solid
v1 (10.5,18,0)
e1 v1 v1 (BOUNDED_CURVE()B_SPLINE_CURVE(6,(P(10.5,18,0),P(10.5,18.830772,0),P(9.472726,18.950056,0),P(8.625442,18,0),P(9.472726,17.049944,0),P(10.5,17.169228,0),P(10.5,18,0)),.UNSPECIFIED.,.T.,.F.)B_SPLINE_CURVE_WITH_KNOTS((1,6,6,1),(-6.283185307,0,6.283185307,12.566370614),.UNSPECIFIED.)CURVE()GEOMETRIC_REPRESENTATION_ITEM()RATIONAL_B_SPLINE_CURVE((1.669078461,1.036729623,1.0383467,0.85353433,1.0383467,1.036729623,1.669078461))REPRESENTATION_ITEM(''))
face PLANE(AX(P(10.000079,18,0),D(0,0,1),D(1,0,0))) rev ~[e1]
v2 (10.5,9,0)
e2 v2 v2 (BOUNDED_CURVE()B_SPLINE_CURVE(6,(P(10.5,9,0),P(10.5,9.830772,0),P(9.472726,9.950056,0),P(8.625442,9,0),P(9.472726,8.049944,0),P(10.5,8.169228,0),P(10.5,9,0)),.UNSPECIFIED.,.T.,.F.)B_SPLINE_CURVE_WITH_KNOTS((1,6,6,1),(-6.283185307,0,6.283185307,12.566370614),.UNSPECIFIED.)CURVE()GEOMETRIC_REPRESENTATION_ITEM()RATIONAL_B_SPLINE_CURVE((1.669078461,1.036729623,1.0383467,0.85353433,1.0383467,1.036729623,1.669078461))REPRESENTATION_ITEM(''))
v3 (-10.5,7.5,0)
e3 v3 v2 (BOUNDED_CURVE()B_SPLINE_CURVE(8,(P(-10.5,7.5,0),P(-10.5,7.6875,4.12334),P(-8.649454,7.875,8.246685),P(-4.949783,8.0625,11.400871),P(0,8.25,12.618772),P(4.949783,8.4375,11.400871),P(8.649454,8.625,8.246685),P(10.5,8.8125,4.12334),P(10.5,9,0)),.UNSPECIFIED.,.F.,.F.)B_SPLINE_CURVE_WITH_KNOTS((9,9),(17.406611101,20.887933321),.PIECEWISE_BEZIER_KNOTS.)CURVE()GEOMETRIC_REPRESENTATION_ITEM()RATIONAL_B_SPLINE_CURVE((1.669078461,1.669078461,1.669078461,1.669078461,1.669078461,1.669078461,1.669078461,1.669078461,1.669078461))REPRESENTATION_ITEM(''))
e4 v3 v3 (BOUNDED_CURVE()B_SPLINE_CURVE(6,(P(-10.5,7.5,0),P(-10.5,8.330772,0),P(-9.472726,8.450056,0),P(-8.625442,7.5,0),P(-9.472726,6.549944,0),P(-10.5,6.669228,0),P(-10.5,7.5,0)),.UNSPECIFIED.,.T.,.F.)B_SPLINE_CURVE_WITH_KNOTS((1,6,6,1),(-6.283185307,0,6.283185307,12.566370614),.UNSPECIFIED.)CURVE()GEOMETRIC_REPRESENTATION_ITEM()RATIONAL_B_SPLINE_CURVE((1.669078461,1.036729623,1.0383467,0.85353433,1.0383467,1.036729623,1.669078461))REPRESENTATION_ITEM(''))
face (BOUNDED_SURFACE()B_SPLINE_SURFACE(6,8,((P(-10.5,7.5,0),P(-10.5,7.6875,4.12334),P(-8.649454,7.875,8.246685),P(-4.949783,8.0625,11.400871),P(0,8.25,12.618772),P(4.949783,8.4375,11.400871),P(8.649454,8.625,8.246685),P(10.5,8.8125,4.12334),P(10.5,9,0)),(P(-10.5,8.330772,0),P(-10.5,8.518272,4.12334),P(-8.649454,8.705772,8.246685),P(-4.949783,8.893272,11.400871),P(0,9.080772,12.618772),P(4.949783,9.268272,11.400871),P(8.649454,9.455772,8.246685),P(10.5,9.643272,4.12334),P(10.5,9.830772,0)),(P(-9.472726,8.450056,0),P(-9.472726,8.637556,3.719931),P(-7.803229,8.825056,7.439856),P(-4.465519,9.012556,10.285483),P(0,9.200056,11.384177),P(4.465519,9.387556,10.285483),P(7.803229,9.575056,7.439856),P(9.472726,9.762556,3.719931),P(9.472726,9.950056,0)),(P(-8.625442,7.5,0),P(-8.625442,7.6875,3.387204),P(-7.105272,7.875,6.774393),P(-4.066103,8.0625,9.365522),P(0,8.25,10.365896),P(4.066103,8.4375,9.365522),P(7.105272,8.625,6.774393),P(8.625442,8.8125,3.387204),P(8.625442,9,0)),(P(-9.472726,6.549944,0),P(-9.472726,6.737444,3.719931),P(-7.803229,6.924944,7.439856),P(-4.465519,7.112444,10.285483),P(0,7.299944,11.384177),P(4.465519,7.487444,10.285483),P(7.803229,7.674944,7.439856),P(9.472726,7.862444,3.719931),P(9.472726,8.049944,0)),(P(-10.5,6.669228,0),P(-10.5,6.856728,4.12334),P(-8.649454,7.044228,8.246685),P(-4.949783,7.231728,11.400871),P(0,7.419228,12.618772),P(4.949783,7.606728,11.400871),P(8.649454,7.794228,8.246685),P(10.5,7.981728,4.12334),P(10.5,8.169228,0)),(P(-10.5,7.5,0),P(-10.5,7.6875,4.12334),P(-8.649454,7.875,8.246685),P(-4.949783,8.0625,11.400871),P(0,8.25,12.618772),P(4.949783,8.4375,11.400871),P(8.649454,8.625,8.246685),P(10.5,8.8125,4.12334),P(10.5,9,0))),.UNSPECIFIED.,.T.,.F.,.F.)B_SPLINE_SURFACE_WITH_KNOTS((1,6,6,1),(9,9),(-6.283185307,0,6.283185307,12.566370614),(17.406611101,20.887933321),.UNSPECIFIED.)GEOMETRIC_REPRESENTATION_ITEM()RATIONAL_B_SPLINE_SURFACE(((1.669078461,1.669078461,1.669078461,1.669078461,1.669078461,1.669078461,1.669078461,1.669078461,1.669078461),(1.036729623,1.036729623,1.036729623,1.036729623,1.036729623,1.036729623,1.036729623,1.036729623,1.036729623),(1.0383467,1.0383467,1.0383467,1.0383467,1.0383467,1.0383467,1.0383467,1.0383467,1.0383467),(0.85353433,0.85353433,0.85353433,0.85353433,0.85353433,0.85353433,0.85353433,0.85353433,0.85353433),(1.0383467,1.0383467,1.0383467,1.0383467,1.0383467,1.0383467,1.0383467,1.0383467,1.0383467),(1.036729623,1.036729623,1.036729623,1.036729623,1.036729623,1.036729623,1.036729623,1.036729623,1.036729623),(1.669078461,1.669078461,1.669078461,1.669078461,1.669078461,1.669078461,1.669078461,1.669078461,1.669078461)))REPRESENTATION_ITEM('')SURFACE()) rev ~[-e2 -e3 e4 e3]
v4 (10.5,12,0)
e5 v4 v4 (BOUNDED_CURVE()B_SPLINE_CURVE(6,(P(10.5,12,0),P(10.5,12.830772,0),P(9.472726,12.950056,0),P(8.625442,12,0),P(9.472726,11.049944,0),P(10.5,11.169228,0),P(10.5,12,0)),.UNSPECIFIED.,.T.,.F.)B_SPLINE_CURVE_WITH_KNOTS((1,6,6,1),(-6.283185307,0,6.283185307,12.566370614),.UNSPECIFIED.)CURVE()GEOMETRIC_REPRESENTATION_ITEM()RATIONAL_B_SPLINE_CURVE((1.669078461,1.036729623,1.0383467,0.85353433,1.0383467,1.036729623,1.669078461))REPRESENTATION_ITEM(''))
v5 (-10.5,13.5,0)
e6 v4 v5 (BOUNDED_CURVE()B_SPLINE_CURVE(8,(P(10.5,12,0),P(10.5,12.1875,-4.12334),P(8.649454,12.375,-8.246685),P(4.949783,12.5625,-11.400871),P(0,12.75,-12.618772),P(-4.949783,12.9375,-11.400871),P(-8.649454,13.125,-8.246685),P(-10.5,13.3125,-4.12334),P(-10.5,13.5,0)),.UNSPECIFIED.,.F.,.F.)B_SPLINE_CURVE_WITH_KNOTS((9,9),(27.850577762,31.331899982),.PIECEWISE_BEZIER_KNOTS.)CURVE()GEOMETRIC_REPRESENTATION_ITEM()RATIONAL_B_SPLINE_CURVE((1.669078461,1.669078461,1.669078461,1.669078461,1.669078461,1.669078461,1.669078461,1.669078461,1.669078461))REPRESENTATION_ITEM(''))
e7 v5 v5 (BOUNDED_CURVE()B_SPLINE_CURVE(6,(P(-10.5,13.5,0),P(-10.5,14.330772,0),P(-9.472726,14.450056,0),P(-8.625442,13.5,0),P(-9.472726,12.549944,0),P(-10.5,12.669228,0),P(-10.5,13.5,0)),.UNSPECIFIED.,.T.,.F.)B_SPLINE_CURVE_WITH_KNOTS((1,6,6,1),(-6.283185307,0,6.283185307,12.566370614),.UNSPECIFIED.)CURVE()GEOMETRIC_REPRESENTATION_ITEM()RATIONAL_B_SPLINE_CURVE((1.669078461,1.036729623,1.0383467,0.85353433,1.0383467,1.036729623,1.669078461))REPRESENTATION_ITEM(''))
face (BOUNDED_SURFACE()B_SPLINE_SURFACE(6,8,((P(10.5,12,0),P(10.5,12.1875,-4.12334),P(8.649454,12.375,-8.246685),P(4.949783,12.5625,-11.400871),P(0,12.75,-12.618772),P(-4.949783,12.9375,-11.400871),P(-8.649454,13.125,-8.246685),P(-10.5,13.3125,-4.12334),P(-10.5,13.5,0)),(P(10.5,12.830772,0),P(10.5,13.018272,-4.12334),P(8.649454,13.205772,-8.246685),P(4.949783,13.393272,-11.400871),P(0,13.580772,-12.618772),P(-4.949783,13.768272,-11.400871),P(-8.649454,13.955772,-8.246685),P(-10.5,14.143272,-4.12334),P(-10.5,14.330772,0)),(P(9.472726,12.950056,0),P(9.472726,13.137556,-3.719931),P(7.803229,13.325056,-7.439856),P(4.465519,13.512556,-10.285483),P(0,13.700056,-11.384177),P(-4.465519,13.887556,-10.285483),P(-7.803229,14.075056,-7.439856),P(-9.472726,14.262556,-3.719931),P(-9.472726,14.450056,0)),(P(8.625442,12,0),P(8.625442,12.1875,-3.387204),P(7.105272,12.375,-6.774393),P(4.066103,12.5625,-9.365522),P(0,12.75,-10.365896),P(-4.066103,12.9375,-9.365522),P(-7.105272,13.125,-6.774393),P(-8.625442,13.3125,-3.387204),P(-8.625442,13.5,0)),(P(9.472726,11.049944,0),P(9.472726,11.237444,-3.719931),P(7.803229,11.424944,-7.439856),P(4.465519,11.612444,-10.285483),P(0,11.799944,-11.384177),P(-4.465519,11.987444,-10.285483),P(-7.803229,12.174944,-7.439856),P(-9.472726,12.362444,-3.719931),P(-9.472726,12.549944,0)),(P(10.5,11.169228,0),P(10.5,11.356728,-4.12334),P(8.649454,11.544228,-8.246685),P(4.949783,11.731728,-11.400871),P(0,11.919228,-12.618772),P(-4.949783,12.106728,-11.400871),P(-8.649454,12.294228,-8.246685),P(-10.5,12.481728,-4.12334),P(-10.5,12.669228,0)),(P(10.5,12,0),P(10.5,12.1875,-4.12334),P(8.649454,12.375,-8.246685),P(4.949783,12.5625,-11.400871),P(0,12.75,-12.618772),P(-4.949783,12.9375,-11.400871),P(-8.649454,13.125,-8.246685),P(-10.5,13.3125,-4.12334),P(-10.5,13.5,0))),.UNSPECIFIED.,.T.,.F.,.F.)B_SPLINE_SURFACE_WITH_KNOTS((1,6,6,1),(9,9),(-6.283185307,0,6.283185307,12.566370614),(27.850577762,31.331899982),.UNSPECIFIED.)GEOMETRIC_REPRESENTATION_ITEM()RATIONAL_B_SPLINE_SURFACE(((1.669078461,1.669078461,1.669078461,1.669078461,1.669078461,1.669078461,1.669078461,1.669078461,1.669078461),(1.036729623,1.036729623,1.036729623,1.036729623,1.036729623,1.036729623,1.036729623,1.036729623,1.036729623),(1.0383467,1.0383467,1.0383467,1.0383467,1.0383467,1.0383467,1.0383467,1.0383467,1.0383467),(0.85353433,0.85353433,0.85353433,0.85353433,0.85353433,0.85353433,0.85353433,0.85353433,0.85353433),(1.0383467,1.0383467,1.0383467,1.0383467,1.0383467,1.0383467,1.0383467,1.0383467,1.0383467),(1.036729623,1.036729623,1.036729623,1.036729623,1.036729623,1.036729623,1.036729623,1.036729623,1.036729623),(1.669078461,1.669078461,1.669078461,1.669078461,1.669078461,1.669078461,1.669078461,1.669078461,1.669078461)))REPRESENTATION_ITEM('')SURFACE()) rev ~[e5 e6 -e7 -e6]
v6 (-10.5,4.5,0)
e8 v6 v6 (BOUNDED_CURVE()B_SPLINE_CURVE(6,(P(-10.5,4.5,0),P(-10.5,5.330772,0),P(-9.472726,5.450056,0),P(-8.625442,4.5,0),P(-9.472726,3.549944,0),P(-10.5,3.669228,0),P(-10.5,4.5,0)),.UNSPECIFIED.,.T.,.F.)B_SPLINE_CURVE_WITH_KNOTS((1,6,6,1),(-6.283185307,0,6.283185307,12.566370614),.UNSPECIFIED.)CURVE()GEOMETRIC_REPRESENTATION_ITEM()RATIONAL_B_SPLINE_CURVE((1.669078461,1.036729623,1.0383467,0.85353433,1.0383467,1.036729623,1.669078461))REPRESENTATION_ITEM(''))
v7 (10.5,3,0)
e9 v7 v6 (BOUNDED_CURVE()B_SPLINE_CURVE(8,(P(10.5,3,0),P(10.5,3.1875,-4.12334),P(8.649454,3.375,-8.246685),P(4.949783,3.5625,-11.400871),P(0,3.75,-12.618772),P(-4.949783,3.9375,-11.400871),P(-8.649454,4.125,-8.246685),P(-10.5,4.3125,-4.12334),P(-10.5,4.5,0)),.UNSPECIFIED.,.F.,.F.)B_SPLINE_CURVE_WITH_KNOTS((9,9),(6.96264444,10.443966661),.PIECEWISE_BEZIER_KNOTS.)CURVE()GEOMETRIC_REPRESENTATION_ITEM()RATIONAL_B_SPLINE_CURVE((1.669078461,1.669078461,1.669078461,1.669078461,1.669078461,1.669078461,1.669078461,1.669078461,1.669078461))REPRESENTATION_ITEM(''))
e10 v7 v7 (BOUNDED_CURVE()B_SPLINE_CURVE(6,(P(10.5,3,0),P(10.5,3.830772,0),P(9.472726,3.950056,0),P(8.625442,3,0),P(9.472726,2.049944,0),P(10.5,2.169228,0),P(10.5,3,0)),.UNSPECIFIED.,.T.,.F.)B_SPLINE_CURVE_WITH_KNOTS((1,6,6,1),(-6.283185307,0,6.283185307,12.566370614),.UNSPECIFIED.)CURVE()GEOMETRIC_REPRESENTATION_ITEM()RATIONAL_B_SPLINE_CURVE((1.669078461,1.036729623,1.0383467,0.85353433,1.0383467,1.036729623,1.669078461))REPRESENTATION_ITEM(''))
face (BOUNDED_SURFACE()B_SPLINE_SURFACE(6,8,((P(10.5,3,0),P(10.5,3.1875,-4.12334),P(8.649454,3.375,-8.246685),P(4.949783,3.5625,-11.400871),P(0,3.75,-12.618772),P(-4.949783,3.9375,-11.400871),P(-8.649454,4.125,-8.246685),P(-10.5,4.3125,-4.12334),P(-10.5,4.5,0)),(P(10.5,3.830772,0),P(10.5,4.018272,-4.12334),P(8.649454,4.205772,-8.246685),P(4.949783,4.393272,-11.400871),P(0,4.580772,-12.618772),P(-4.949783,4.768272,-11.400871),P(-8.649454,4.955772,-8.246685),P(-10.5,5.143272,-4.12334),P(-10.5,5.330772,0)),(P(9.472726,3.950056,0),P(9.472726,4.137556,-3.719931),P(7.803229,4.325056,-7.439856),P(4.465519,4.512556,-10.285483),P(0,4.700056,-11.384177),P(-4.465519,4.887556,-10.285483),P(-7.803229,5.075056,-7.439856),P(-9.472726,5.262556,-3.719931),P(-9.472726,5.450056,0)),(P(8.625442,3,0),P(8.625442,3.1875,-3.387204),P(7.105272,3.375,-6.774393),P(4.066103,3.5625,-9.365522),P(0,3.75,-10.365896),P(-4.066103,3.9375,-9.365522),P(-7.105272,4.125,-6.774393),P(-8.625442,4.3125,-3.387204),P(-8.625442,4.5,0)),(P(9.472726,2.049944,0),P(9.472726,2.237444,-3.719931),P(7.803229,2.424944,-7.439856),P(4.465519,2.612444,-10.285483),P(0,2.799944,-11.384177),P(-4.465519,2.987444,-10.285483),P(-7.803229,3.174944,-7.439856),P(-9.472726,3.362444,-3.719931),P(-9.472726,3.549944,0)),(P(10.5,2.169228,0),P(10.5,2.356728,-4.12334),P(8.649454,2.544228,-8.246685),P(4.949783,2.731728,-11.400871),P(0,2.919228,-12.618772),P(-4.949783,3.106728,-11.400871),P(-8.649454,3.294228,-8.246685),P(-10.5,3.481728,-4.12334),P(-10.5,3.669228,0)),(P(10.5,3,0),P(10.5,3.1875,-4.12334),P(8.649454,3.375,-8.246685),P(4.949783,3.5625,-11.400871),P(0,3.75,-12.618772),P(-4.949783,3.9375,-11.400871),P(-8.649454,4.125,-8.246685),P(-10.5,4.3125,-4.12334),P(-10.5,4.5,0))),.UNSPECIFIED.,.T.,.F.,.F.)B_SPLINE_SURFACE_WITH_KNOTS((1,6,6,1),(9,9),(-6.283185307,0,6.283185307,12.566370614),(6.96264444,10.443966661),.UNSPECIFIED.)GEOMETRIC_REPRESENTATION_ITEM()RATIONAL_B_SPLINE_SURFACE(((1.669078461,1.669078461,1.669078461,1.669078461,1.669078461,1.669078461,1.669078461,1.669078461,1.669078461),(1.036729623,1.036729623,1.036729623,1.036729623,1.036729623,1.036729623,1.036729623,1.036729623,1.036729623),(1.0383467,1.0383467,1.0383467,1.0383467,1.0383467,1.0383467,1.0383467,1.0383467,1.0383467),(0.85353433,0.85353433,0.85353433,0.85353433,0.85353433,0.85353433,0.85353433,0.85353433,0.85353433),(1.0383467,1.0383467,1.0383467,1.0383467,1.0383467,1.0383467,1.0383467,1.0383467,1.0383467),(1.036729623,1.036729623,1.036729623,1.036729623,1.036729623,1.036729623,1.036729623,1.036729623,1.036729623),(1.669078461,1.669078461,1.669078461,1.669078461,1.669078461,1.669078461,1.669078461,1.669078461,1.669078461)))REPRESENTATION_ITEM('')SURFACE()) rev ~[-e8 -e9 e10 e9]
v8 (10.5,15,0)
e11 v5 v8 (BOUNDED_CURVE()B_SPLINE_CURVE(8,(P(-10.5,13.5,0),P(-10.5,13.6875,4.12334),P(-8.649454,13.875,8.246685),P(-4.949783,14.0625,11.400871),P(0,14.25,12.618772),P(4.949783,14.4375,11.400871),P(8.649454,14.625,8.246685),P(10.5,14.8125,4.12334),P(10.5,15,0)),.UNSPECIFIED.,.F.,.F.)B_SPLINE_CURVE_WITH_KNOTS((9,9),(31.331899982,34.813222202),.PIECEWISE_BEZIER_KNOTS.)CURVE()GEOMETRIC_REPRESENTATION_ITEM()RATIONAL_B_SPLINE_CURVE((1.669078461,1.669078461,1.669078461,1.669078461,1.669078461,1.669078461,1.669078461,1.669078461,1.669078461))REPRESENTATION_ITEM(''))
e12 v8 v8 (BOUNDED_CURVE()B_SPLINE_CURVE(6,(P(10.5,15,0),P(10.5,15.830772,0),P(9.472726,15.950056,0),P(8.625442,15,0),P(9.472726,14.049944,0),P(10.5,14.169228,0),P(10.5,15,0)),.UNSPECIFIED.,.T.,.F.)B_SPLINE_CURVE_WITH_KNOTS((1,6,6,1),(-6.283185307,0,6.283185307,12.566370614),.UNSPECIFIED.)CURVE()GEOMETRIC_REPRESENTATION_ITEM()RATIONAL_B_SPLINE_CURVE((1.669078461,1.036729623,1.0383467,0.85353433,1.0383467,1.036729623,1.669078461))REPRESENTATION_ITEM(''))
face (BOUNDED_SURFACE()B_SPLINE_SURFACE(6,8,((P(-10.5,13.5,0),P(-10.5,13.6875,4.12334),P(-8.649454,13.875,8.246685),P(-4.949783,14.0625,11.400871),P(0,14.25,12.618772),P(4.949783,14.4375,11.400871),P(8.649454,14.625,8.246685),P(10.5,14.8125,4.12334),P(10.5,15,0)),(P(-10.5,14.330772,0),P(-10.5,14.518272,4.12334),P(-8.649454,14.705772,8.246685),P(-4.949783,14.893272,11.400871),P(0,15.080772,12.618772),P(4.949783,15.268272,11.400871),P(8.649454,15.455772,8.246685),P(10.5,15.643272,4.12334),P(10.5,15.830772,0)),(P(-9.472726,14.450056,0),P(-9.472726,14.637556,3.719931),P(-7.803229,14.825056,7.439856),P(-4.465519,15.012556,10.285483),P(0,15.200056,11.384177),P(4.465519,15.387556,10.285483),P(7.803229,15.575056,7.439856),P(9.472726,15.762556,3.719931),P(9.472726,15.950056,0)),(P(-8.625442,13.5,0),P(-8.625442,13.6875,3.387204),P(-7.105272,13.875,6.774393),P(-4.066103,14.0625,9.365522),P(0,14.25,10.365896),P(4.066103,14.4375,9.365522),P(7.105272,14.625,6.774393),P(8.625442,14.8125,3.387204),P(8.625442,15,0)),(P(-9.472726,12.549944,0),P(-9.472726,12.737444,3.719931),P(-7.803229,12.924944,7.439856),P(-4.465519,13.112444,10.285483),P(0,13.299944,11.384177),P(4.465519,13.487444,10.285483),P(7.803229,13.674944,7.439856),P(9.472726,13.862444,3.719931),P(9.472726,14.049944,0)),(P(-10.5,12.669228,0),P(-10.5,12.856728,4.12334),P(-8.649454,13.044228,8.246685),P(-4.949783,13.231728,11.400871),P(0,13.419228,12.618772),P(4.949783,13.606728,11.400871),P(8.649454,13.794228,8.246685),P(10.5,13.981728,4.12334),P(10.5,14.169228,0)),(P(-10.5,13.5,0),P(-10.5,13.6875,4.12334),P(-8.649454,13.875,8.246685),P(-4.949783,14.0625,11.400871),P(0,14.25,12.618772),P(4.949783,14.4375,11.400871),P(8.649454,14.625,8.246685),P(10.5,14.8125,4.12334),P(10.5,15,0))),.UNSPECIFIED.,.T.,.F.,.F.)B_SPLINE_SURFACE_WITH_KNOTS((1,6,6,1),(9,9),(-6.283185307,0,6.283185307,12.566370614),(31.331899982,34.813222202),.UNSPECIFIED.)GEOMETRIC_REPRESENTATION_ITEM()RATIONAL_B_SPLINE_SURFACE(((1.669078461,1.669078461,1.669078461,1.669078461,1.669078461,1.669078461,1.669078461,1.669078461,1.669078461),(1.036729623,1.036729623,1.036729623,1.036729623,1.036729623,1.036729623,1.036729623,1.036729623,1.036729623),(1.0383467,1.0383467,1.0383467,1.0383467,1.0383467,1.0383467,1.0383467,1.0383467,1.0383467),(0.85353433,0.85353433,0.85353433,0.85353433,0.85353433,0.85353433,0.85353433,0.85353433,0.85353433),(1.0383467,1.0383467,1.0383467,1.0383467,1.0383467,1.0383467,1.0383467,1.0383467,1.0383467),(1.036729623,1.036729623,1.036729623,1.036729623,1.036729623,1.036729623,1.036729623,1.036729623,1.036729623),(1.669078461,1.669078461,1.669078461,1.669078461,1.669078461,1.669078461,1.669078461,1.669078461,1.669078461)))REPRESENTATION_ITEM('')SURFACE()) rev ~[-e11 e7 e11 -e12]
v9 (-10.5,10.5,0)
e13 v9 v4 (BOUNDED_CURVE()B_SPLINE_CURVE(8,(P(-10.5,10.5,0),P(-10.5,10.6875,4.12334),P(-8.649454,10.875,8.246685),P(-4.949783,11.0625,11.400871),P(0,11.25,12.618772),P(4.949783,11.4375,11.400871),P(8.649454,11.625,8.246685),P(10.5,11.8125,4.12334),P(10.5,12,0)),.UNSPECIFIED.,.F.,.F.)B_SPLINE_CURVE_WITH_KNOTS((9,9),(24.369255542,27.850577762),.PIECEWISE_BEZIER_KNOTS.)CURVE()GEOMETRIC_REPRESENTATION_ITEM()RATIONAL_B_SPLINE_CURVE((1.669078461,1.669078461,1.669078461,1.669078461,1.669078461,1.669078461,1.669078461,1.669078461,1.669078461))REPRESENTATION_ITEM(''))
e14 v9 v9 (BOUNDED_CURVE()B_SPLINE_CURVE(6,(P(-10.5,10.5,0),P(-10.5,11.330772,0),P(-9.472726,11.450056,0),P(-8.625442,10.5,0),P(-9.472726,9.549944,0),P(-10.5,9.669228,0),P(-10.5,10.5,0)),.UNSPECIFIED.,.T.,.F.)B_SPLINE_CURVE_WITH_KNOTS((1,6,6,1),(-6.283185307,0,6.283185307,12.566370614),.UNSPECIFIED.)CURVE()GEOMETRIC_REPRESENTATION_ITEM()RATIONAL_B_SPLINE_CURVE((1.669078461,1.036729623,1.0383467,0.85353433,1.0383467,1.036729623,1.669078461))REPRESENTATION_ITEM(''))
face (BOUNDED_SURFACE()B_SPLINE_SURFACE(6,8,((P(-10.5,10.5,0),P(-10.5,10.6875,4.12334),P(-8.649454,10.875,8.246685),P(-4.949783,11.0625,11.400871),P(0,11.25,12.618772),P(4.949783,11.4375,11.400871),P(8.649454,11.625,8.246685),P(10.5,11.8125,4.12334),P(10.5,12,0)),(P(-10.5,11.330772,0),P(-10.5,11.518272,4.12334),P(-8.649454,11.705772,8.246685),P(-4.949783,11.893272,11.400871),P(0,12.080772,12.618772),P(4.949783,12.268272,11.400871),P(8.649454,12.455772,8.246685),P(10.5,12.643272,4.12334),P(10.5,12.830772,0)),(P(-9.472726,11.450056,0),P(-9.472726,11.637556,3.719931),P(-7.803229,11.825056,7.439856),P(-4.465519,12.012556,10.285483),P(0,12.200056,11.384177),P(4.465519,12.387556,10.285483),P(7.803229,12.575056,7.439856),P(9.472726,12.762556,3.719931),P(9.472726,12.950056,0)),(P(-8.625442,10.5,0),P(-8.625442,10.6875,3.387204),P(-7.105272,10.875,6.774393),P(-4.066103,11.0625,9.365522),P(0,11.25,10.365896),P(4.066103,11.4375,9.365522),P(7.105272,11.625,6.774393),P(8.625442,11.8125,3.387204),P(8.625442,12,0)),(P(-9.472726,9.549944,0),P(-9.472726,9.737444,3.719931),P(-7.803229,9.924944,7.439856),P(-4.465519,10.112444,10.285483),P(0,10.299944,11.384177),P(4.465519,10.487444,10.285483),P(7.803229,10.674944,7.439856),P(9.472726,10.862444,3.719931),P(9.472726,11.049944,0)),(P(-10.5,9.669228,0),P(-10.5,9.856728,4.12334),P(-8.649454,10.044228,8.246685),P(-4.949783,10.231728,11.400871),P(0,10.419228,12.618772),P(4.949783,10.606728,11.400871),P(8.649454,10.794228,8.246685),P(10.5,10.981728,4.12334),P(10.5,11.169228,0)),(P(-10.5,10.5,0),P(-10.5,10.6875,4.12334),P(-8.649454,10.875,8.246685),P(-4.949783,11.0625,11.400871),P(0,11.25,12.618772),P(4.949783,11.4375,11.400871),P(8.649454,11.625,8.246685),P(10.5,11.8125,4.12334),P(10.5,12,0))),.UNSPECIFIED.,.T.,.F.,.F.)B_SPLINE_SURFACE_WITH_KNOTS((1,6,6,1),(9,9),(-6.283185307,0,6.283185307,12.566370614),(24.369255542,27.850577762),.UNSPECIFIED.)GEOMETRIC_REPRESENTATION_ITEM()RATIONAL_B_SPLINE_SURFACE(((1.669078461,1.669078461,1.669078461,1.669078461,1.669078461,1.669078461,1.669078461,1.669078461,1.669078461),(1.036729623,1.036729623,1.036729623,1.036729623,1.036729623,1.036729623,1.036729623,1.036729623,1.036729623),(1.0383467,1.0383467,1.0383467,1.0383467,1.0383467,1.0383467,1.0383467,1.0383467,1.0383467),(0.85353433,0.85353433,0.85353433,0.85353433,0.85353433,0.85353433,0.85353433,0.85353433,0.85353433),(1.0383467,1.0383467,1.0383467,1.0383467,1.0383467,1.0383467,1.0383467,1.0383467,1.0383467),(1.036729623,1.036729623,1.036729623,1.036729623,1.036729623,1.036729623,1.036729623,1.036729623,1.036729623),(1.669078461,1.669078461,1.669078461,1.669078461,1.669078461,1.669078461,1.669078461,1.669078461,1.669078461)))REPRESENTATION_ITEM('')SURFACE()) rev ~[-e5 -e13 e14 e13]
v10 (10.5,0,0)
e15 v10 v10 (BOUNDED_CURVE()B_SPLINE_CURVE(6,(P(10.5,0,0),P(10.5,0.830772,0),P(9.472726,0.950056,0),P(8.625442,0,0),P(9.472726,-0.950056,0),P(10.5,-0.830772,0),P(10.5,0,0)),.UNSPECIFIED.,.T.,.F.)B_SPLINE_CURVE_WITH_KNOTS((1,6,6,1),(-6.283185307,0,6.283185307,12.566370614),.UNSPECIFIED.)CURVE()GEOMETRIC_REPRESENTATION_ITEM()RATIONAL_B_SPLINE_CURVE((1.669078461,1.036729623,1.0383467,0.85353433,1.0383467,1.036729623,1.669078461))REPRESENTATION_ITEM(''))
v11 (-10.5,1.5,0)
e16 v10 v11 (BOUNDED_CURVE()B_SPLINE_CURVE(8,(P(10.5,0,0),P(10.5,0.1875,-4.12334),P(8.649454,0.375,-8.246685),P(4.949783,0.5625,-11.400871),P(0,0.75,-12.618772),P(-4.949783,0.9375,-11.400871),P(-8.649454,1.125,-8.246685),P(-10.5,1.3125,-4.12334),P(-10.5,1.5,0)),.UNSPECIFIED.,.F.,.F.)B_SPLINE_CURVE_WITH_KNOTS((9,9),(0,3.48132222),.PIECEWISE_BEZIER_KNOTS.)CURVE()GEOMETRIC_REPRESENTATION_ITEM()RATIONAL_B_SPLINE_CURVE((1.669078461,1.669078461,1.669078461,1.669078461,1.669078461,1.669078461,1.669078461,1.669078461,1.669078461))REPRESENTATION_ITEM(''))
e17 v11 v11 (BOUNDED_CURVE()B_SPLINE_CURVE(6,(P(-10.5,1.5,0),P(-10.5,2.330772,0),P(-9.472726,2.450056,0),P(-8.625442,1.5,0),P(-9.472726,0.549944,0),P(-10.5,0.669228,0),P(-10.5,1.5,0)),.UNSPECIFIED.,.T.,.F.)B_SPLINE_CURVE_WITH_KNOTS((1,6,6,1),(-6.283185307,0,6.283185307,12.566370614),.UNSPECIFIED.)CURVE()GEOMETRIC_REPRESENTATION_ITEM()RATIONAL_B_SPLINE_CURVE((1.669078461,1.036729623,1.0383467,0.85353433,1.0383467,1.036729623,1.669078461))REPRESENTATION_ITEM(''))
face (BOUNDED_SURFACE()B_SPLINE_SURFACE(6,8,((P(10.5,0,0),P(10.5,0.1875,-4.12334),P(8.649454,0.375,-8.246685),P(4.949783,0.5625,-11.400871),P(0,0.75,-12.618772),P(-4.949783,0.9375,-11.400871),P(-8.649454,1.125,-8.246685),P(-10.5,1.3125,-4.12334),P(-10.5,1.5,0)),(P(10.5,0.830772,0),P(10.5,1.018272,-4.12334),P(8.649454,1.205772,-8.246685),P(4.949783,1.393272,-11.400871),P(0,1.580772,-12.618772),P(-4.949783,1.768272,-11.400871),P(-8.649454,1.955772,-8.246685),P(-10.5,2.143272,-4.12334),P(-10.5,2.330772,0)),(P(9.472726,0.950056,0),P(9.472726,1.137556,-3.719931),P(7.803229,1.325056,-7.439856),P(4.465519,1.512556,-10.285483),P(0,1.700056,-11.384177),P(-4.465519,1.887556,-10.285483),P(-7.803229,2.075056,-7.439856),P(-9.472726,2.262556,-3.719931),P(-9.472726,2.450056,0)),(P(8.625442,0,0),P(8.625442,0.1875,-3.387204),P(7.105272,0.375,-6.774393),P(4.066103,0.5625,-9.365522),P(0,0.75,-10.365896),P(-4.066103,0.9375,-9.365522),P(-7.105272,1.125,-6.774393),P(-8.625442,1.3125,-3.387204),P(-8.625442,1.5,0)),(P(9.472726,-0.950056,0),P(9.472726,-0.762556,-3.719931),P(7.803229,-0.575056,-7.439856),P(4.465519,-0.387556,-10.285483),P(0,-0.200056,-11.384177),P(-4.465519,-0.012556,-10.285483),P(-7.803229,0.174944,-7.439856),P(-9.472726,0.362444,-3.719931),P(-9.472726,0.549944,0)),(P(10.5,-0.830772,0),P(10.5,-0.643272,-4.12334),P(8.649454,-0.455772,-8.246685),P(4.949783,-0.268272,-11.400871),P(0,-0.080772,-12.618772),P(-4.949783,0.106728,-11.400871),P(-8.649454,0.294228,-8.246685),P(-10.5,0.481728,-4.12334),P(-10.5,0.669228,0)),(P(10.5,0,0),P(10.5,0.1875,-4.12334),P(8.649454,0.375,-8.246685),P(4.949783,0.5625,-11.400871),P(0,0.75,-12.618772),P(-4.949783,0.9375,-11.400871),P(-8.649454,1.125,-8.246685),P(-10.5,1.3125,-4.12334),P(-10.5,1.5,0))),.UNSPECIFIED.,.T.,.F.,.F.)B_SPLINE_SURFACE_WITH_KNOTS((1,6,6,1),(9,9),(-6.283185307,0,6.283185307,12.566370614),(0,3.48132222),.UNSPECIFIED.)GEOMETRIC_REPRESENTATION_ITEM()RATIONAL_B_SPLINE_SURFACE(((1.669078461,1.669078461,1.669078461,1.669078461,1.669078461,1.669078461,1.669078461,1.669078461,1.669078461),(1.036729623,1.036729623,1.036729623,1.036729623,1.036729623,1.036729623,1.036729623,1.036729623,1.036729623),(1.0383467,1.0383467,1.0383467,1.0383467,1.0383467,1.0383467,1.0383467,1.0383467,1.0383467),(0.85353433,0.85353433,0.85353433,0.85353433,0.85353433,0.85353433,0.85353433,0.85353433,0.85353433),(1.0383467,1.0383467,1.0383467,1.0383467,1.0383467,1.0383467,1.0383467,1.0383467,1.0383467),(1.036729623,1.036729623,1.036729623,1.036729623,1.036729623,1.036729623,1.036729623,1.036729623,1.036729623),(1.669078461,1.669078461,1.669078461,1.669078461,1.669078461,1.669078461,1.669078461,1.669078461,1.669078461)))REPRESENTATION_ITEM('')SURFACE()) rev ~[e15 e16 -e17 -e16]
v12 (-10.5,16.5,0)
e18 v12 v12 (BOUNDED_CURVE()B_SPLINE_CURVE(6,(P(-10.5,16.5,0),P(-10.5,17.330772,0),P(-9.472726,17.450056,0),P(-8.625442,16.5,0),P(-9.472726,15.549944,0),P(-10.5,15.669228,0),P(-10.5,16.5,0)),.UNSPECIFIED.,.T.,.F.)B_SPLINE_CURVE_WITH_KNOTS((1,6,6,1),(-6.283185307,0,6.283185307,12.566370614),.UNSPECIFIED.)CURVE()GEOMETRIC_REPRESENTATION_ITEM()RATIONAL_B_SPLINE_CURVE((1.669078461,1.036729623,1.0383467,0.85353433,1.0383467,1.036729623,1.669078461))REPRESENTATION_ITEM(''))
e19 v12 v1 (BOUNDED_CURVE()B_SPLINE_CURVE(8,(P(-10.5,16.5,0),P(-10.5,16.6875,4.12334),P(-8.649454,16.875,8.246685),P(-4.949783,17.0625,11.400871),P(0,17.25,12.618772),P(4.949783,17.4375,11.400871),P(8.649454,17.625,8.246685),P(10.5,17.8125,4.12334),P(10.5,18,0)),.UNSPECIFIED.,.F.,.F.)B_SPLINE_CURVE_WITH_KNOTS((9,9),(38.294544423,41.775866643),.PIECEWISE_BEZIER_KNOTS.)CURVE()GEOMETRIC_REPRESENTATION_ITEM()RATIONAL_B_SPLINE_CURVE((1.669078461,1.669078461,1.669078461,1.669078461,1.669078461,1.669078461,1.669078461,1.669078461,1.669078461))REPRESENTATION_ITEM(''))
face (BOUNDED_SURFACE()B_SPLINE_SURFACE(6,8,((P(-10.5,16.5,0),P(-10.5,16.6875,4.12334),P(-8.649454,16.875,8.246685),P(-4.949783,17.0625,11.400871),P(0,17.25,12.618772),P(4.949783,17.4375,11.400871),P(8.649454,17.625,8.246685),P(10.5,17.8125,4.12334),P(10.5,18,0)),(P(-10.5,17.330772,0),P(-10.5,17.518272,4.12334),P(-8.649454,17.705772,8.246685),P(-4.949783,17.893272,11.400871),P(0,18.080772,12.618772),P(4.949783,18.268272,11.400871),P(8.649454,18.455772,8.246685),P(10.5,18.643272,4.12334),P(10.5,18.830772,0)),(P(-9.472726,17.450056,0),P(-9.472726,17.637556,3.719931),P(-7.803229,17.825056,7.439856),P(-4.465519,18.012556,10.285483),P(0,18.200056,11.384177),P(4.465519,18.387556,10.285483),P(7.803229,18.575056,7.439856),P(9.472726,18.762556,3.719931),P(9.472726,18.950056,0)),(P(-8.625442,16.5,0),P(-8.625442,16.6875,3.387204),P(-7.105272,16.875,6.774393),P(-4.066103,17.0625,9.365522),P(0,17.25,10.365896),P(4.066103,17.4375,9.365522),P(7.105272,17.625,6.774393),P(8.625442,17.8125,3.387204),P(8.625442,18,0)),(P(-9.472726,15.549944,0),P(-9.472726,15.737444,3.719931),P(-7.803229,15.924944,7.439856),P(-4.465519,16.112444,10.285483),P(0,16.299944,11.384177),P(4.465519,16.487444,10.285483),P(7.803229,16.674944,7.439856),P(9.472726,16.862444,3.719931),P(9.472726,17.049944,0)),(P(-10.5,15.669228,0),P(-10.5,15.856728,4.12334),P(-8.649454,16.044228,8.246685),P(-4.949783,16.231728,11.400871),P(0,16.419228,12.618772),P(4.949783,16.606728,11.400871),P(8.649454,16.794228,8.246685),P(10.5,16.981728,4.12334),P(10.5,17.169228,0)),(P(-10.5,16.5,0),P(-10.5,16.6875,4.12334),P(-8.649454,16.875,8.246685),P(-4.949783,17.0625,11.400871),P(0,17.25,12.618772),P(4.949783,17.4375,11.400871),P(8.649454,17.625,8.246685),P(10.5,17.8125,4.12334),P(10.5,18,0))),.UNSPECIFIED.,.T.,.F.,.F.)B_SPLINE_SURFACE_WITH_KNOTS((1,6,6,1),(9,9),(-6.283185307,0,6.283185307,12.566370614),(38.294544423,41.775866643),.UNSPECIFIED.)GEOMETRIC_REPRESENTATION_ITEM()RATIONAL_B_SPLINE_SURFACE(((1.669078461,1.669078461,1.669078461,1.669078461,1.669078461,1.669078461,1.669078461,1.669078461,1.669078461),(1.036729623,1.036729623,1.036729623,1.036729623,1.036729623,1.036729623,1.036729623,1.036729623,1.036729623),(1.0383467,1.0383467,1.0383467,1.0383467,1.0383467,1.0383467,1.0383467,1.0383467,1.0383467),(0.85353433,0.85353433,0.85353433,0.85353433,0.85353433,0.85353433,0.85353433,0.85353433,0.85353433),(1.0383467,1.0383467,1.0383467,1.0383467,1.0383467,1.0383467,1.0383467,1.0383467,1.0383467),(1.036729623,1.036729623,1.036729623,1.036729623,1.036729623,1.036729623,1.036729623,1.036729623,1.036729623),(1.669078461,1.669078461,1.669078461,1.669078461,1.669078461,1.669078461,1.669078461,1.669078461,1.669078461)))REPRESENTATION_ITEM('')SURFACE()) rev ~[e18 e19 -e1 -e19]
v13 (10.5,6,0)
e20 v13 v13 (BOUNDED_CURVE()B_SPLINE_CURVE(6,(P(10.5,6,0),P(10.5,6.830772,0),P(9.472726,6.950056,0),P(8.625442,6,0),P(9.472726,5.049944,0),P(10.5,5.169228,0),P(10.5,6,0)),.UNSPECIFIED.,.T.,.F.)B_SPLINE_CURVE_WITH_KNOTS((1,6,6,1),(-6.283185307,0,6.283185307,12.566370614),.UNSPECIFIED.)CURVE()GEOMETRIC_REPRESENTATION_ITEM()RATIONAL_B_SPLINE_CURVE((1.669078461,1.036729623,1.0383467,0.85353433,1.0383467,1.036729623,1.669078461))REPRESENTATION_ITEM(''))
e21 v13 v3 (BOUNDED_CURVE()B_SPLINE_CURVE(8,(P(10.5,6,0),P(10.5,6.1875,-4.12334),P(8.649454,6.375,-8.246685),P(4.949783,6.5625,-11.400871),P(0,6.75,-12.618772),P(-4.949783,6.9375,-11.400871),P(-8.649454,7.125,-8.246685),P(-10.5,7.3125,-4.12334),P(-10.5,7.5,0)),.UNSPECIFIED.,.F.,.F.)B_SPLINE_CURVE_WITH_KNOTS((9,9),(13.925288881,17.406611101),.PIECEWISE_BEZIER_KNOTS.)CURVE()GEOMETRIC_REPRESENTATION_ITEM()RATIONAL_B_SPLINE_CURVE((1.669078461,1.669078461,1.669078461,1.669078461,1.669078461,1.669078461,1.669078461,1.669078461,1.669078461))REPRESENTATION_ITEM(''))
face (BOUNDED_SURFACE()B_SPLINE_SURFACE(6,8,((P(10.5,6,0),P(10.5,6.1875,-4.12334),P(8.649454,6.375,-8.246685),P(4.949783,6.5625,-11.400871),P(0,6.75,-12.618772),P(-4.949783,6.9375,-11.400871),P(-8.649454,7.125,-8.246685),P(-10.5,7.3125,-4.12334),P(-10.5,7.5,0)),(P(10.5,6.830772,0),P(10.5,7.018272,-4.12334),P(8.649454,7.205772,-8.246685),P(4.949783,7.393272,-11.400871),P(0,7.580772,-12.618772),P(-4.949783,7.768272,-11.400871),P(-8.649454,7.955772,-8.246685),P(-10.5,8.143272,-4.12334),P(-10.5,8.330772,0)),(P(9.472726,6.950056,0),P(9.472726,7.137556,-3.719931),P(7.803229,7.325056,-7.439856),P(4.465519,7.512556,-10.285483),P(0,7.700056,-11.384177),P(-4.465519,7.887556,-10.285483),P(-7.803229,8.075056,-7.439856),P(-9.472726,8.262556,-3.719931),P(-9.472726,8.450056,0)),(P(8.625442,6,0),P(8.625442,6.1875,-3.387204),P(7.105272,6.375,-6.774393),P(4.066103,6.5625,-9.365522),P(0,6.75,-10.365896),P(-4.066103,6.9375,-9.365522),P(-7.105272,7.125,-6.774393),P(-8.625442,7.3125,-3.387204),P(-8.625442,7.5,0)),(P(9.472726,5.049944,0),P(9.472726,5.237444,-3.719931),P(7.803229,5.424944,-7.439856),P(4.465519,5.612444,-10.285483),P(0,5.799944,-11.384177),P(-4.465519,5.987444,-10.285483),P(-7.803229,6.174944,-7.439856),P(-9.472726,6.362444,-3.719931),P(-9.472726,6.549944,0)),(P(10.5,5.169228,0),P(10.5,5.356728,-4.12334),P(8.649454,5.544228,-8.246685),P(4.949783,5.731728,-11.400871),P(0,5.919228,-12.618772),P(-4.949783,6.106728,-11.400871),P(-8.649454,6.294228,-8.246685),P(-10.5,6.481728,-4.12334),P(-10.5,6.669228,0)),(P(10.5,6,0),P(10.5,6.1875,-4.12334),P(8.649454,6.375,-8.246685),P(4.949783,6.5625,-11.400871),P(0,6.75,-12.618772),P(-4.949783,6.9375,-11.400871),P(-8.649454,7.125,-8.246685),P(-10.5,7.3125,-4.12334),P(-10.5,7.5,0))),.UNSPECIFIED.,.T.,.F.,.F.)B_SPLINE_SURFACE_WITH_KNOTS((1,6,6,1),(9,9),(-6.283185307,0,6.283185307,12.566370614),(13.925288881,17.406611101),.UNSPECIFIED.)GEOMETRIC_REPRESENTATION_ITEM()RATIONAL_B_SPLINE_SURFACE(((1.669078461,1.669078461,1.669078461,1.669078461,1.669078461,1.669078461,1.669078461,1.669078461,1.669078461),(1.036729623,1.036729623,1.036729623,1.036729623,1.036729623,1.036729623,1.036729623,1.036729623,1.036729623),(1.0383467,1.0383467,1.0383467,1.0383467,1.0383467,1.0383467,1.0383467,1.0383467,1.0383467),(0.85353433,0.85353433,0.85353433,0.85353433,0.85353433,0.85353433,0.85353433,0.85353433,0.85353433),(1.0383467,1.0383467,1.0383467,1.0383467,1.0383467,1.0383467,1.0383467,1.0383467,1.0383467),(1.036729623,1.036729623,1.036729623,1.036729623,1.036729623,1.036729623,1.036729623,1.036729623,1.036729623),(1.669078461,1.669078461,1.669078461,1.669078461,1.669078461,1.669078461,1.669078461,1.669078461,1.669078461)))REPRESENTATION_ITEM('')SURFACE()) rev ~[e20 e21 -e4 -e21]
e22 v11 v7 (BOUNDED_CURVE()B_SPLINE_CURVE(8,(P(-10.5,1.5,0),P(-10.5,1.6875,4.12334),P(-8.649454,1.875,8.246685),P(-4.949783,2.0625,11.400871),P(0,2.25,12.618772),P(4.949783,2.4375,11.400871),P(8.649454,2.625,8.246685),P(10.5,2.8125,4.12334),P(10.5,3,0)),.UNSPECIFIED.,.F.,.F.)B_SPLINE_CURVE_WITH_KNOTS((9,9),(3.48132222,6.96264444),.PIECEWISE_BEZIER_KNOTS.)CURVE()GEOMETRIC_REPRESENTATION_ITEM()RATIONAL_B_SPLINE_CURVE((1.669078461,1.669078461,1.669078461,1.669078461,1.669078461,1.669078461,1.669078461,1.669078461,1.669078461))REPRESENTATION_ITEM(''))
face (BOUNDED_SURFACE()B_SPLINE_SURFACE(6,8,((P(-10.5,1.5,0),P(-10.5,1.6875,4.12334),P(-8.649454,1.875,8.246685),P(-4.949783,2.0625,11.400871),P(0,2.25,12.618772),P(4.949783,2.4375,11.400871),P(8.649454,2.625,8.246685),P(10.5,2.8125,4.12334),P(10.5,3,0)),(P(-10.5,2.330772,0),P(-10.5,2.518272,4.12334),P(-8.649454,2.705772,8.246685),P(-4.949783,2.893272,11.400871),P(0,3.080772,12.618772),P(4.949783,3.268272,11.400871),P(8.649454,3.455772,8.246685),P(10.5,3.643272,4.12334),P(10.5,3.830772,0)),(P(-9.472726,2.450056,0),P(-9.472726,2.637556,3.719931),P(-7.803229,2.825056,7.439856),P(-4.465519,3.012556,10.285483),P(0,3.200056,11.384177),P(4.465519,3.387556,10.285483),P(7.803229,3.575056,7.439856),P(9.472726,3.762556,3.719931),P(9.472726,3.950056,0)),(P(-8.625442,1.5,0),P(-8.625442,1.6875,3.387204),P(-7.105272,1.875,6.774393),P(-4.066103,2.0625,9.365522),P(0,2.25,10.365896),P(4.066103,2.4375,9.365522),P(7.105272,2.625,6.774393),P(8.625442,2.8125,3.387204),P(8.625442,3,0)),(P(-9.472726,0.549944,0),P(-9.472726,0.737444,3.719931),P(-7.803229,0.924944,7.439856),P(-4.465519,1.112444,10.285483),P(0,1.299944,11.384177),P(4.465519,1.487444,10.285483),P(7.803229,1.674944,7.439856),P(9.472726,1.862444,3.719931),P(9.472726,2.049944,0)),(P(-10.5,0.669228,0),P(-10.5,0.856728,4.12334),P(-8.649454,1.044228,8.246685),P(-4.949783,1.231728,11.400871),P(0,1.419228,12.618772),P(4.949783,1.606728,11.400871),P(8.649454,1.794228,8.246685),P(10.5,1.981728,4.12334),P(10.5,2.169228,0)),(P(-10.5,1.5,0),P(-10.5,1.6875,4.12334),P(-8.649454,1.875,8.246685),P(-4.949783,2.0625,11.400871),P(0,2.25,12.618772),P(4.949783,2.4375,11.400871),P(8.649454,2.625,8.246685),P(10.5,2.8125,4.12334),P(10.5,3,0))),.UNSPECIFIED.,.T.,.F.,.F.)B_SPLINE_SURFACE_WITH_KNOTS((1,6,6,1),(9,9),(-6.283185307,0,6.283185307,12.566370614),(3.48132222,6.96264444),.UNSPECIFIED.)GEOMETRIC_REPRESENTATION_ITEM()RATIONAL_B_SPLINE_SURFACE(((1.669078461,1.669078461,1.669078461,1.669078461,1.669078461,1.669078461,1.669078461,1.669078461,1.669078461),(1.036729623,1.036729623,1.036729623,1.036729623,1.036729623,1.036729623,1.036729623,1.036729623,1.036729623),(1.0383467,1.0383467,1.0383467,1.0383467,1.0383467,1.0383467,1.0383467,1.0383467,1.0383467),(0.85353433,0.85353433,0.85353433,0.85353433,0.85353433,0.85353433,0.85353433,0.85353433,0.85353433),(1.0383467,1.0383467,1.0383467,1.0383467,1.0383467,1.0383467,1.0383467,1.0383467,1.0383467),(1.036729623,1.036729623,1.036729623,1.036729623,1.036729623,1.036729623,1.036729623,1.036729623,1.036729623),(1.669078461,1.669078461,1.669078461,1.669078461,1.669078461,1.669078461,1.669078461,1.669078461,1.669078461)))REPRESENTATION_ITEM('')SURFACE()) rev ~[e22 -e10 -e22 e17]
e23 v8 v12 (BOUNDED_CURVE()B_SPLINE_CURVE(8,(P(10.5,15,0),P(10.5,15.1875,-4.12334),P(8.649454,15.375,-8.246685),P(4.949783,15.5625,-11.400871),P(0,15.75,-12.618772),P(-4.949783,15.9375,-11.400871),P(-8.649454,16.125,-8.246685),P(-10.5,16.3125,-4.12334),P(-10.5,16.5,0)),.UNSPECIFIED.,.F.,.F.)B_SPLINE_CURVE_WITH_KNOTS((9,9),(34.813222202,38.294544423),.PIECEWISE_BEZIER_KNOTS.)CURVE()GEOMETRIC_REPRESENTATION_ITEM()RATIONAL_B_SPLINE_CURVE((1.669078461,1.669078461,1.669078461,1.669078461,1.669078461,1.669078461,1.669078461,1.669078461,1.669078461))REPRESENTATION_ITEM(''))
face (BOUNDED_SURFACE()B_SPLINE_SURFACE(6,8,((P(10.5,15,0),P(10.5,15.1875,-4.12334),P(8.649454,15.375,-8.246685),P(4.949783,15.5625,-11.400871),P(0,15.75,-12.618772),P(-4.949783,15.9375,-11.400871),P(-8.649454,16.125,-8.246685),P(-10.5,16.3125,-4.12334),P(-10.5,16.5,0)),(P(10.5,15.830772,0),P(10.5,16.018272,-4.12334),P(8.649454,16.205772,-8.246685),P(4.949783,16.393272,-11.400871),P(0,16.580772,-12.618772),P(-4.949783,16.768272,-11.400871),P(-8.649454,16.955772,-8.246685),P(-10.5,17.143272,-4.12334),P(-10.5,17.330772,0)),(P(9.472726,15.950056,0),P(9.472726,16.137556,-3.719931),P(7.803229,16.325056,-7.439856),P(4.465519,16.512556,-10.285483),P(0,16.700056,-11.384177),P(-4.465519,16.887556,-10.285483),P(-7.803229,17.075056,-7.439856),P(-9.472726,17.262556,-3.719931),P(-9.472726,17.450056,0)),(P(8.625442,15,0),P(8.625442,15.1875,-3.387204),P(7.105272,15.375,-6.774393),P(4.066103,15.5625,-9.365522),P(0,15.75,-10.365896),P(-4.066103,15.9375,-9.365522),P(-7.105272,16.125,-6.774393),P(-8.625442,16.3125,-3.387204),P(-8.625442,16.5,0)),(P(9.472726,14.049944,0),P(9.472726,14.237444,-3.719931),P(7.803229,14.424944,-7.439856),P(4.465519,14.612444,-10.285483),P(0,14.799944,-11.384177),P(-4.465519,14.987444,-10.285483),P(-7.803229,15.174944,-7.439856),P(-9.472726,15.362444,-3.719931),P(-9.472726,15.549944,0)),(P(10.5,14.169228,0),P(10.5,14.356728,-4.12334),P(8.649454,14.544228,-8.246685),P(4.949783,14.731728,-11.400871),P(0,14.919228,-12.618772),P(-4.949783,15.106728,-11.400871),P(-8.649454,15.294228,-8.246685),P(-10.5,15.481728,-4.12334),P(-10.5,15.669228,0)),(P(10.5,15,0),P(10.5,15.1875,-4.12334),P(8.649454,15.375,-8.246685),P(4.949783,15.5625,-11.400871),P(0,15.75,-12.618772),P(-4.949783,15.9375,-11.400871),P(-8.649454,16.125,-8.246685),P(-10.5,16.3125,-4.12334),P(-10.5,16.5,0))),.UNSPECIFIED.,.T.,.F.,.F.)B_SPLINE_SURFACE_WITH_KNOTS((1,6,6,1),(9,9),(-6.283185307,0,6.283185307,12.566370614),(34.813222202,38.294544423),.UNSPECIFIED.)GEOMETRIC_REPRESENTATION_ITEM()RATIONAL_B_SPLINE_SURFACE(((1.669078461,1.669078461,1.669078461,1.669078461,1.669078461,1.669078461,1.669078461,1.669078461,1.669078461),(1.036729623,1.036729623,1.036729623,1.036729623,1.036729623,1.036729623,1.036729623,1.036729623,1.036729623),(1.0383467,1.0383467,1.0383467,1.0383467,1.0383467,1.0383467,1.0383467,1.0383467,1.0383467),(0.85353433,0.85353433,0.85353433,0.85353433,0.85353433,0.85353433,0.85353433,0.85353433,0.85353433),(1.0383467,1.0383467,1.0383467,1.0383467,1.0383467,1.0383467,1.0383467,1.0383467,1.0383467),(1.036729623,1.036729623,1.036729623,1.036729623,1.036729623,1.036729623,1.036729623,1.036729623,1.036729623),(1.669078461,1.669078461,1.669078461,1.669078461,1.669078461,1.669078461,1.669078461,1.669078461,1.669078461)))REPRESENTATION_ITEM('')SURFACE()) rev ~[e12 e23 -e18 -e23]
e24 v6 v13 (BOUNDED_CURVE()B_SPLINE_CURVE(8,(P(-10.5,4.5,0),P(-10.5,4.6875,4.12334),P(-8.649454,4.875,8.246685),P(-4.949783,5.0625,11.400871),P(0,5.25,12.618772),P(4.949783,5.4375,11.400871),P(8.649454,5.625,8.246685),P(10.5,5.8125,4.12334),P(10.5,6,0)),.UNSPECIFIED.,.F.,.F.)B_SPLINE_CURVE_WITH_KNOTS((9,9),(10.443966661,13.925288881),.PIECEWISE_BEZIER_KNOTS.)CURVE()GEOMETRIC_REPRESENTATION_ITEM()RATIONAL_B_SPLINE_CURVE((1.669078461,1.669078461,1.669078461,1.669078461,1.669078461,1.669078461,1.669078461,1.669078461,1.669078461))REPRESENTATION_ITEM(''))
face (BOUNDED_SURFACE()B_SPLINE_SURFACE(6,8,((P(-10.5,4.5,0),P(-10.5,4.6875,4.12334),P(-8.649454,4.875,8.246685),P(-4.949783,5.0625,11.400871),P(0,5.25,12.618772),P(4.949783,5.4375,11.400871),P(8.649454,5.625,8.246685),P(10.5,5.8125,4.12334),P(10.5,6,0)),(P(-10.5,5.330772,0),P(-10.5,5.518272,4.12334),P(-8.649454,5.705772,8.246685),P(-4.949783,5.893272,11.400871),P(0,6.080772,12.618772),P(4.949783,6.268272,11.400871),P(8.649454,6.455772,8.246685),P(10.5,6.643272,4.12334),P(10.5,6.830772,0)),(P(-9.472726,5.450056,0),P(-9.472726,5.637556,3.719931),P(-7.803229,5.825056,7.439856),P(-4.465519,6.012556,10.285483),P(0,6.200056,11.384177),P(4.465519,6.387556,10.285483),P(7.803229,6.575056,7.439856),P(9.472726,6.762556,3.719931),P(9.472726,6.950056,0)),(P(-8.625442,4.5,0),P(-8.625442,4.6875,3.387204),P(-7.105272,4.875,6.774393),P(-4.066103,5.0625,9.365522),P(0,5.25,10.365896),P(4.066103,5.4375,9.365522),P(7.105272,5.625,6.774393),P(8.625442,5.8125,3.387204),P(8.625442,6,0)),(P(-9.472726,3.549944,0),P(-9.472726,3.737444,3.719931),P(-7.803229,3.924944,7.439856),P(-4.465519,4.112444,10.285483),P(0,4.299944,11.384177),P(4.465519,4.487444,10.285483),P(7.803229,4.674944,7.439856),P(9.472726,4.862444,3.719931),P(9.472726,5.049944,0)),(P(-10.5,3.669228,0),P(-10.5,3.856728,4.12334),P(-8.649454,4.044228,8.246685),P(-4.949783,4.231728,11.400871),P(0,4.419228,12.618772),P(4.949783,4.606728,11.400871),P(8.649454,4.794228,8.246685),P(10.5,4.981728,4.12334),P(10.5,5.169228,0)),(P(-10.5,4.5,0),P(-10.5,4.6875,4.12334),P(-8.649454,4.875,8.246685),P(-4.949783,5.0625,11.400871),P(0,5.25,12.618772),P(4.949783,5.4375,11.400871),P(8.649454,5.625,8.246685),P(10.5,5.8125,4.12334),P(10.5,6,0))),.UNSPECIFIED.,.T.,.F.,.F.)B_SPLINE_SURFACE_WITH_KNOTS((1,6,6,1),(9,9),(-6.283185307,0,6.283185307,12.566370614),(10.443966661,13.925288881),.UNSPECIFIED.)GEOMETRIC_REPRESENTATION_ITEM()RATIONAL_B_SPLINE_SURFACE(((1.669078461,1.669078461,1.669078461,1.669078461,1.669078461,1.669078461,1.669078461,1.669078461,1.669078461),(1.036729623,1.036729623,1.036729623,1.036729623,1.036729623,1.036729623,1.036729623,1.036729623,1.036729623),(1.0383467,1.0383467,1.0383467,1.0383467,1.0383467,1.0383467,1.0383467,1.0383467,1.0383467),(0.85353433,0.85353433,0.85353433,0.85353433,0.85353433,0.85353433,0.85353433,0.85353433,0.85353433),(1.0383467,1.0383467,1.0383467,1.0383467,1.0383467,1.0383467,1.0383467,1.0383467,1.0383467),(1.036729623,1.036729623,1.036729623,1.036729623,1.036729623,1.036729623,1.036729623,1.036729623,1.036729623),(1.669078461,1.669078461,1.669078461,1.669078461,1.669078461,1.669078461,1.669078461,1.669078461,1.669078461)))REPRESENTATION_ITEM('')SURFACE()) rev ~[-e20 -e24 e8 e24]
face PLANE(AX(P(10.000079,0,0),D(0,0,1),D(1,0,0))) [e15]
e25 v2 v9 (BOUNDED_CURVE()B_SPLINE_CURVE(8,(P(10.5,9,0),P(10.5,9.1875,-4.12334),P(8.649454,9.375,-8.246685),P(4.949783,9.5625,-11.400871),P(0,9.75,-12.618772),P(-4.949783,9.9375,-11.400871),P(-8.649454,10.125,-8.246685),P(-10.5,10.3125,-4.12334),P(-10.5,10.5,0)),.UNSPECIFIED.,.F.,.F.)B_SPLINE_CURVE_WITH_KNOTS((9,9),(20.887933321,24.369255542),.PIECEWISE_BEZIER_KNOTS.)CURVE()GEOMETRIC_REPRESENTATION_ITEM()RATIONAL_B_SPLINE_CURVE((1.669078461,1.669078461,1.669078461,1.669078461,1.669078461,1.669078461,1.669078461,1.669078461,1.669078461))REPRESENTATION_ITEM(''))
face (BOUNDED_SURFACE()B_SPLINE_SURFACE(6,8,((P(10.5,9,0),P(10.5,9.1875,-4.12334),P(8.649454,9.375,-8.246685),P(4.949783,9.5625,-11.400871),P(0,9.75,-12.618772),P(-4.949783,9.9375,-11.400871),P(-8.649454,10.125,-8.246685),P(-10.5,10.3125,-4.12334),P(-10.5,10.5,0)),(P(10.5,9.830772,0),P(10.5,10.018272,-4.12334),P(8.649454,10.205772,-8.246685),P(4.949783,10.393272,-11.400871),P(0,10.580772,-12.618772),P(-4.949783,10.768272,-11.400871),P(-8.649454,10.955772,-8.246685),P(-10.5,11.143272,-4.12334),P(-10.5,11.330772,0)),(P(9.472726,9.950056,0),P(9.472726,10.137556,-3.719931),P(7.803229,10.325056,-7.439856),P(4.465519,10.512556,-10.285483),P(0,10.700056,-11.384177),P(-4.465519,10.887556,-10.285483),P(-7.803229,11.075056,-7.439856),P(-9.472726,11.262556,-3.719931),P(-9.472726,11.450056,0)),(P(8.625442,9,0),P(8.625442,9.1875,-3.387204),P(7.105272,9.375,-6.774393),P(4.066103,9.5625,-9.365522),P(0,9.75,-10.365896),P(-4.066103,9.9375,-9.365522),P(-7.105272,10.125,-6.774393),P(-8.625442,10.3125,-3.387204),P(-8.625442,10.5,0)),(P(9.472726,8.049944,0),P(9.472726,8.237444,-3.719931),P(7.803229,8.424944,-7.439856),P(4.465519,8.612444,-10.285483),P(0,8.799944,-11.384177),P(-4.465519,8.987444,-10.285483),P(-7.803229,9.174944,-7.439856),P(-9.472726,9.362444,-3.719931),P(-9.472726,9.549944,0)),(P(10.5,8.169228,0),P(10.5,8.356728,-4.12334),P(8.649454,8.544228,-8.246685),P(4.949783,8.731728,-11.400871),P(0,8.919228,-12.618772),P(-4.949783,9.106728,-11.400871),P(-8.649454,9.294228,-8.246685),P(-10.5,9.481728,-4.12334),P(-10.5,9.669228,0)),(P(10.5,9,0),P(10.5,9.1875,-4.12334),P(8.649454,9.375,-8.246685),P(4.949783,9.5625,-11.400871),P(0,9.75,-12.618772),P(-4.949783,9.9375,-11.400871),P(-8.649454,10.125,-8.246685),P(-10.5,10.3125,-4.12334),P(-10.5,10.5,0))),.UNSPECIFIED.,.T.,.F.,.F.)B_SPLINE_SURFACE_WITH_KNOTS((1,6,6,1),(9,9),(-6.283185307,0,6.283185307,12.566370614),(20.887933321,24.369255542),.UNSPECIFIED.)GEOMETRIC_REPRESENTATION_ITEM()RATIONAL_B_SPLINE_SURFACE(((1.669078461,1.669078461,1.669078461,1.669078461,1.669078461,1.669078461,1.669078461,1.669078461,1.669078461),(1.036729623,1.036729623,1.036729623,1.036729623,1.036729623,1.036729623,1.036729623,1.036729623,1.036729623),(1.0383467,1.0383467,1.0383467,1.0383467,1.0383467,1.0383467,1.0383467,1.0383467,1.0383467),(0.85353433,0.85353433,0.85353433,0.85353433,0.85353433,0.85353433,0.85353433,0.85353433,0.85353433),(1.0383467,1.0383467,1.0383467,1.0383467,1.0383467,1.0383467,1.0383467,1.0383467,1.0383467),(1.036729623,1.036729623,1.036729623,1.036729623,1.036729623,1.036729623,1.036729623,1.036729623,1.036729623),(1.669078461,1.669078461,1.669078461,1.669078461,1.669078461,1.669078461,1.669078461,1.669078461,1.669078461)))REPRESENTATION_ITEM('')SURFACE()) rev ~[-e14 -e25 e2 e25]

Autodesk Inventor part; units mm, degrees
ref_plane "XZ Plane" through (0, 0, 0) normal (0, 1, 0) x (-1, 0, 0)
sketch "Sketch1" plane through (0, 0, 0) normal (0, 0, 1) x (1, 0, 0)
  line L0 (0, 0) -> (10, 0) construction
  line L1 (0, 0) -> (0, 3.7313) construction
  circle A0 centre (10, 0) radius 0.5
  dimension "d0" = 10
  dimension "d1" = 1
coil "Coil1" sketch "Sketch1" operation add axis through (0, 0, 0) along (0, 1, 0) pitch 3 turns 6 hand right
properties part number "Spring"
